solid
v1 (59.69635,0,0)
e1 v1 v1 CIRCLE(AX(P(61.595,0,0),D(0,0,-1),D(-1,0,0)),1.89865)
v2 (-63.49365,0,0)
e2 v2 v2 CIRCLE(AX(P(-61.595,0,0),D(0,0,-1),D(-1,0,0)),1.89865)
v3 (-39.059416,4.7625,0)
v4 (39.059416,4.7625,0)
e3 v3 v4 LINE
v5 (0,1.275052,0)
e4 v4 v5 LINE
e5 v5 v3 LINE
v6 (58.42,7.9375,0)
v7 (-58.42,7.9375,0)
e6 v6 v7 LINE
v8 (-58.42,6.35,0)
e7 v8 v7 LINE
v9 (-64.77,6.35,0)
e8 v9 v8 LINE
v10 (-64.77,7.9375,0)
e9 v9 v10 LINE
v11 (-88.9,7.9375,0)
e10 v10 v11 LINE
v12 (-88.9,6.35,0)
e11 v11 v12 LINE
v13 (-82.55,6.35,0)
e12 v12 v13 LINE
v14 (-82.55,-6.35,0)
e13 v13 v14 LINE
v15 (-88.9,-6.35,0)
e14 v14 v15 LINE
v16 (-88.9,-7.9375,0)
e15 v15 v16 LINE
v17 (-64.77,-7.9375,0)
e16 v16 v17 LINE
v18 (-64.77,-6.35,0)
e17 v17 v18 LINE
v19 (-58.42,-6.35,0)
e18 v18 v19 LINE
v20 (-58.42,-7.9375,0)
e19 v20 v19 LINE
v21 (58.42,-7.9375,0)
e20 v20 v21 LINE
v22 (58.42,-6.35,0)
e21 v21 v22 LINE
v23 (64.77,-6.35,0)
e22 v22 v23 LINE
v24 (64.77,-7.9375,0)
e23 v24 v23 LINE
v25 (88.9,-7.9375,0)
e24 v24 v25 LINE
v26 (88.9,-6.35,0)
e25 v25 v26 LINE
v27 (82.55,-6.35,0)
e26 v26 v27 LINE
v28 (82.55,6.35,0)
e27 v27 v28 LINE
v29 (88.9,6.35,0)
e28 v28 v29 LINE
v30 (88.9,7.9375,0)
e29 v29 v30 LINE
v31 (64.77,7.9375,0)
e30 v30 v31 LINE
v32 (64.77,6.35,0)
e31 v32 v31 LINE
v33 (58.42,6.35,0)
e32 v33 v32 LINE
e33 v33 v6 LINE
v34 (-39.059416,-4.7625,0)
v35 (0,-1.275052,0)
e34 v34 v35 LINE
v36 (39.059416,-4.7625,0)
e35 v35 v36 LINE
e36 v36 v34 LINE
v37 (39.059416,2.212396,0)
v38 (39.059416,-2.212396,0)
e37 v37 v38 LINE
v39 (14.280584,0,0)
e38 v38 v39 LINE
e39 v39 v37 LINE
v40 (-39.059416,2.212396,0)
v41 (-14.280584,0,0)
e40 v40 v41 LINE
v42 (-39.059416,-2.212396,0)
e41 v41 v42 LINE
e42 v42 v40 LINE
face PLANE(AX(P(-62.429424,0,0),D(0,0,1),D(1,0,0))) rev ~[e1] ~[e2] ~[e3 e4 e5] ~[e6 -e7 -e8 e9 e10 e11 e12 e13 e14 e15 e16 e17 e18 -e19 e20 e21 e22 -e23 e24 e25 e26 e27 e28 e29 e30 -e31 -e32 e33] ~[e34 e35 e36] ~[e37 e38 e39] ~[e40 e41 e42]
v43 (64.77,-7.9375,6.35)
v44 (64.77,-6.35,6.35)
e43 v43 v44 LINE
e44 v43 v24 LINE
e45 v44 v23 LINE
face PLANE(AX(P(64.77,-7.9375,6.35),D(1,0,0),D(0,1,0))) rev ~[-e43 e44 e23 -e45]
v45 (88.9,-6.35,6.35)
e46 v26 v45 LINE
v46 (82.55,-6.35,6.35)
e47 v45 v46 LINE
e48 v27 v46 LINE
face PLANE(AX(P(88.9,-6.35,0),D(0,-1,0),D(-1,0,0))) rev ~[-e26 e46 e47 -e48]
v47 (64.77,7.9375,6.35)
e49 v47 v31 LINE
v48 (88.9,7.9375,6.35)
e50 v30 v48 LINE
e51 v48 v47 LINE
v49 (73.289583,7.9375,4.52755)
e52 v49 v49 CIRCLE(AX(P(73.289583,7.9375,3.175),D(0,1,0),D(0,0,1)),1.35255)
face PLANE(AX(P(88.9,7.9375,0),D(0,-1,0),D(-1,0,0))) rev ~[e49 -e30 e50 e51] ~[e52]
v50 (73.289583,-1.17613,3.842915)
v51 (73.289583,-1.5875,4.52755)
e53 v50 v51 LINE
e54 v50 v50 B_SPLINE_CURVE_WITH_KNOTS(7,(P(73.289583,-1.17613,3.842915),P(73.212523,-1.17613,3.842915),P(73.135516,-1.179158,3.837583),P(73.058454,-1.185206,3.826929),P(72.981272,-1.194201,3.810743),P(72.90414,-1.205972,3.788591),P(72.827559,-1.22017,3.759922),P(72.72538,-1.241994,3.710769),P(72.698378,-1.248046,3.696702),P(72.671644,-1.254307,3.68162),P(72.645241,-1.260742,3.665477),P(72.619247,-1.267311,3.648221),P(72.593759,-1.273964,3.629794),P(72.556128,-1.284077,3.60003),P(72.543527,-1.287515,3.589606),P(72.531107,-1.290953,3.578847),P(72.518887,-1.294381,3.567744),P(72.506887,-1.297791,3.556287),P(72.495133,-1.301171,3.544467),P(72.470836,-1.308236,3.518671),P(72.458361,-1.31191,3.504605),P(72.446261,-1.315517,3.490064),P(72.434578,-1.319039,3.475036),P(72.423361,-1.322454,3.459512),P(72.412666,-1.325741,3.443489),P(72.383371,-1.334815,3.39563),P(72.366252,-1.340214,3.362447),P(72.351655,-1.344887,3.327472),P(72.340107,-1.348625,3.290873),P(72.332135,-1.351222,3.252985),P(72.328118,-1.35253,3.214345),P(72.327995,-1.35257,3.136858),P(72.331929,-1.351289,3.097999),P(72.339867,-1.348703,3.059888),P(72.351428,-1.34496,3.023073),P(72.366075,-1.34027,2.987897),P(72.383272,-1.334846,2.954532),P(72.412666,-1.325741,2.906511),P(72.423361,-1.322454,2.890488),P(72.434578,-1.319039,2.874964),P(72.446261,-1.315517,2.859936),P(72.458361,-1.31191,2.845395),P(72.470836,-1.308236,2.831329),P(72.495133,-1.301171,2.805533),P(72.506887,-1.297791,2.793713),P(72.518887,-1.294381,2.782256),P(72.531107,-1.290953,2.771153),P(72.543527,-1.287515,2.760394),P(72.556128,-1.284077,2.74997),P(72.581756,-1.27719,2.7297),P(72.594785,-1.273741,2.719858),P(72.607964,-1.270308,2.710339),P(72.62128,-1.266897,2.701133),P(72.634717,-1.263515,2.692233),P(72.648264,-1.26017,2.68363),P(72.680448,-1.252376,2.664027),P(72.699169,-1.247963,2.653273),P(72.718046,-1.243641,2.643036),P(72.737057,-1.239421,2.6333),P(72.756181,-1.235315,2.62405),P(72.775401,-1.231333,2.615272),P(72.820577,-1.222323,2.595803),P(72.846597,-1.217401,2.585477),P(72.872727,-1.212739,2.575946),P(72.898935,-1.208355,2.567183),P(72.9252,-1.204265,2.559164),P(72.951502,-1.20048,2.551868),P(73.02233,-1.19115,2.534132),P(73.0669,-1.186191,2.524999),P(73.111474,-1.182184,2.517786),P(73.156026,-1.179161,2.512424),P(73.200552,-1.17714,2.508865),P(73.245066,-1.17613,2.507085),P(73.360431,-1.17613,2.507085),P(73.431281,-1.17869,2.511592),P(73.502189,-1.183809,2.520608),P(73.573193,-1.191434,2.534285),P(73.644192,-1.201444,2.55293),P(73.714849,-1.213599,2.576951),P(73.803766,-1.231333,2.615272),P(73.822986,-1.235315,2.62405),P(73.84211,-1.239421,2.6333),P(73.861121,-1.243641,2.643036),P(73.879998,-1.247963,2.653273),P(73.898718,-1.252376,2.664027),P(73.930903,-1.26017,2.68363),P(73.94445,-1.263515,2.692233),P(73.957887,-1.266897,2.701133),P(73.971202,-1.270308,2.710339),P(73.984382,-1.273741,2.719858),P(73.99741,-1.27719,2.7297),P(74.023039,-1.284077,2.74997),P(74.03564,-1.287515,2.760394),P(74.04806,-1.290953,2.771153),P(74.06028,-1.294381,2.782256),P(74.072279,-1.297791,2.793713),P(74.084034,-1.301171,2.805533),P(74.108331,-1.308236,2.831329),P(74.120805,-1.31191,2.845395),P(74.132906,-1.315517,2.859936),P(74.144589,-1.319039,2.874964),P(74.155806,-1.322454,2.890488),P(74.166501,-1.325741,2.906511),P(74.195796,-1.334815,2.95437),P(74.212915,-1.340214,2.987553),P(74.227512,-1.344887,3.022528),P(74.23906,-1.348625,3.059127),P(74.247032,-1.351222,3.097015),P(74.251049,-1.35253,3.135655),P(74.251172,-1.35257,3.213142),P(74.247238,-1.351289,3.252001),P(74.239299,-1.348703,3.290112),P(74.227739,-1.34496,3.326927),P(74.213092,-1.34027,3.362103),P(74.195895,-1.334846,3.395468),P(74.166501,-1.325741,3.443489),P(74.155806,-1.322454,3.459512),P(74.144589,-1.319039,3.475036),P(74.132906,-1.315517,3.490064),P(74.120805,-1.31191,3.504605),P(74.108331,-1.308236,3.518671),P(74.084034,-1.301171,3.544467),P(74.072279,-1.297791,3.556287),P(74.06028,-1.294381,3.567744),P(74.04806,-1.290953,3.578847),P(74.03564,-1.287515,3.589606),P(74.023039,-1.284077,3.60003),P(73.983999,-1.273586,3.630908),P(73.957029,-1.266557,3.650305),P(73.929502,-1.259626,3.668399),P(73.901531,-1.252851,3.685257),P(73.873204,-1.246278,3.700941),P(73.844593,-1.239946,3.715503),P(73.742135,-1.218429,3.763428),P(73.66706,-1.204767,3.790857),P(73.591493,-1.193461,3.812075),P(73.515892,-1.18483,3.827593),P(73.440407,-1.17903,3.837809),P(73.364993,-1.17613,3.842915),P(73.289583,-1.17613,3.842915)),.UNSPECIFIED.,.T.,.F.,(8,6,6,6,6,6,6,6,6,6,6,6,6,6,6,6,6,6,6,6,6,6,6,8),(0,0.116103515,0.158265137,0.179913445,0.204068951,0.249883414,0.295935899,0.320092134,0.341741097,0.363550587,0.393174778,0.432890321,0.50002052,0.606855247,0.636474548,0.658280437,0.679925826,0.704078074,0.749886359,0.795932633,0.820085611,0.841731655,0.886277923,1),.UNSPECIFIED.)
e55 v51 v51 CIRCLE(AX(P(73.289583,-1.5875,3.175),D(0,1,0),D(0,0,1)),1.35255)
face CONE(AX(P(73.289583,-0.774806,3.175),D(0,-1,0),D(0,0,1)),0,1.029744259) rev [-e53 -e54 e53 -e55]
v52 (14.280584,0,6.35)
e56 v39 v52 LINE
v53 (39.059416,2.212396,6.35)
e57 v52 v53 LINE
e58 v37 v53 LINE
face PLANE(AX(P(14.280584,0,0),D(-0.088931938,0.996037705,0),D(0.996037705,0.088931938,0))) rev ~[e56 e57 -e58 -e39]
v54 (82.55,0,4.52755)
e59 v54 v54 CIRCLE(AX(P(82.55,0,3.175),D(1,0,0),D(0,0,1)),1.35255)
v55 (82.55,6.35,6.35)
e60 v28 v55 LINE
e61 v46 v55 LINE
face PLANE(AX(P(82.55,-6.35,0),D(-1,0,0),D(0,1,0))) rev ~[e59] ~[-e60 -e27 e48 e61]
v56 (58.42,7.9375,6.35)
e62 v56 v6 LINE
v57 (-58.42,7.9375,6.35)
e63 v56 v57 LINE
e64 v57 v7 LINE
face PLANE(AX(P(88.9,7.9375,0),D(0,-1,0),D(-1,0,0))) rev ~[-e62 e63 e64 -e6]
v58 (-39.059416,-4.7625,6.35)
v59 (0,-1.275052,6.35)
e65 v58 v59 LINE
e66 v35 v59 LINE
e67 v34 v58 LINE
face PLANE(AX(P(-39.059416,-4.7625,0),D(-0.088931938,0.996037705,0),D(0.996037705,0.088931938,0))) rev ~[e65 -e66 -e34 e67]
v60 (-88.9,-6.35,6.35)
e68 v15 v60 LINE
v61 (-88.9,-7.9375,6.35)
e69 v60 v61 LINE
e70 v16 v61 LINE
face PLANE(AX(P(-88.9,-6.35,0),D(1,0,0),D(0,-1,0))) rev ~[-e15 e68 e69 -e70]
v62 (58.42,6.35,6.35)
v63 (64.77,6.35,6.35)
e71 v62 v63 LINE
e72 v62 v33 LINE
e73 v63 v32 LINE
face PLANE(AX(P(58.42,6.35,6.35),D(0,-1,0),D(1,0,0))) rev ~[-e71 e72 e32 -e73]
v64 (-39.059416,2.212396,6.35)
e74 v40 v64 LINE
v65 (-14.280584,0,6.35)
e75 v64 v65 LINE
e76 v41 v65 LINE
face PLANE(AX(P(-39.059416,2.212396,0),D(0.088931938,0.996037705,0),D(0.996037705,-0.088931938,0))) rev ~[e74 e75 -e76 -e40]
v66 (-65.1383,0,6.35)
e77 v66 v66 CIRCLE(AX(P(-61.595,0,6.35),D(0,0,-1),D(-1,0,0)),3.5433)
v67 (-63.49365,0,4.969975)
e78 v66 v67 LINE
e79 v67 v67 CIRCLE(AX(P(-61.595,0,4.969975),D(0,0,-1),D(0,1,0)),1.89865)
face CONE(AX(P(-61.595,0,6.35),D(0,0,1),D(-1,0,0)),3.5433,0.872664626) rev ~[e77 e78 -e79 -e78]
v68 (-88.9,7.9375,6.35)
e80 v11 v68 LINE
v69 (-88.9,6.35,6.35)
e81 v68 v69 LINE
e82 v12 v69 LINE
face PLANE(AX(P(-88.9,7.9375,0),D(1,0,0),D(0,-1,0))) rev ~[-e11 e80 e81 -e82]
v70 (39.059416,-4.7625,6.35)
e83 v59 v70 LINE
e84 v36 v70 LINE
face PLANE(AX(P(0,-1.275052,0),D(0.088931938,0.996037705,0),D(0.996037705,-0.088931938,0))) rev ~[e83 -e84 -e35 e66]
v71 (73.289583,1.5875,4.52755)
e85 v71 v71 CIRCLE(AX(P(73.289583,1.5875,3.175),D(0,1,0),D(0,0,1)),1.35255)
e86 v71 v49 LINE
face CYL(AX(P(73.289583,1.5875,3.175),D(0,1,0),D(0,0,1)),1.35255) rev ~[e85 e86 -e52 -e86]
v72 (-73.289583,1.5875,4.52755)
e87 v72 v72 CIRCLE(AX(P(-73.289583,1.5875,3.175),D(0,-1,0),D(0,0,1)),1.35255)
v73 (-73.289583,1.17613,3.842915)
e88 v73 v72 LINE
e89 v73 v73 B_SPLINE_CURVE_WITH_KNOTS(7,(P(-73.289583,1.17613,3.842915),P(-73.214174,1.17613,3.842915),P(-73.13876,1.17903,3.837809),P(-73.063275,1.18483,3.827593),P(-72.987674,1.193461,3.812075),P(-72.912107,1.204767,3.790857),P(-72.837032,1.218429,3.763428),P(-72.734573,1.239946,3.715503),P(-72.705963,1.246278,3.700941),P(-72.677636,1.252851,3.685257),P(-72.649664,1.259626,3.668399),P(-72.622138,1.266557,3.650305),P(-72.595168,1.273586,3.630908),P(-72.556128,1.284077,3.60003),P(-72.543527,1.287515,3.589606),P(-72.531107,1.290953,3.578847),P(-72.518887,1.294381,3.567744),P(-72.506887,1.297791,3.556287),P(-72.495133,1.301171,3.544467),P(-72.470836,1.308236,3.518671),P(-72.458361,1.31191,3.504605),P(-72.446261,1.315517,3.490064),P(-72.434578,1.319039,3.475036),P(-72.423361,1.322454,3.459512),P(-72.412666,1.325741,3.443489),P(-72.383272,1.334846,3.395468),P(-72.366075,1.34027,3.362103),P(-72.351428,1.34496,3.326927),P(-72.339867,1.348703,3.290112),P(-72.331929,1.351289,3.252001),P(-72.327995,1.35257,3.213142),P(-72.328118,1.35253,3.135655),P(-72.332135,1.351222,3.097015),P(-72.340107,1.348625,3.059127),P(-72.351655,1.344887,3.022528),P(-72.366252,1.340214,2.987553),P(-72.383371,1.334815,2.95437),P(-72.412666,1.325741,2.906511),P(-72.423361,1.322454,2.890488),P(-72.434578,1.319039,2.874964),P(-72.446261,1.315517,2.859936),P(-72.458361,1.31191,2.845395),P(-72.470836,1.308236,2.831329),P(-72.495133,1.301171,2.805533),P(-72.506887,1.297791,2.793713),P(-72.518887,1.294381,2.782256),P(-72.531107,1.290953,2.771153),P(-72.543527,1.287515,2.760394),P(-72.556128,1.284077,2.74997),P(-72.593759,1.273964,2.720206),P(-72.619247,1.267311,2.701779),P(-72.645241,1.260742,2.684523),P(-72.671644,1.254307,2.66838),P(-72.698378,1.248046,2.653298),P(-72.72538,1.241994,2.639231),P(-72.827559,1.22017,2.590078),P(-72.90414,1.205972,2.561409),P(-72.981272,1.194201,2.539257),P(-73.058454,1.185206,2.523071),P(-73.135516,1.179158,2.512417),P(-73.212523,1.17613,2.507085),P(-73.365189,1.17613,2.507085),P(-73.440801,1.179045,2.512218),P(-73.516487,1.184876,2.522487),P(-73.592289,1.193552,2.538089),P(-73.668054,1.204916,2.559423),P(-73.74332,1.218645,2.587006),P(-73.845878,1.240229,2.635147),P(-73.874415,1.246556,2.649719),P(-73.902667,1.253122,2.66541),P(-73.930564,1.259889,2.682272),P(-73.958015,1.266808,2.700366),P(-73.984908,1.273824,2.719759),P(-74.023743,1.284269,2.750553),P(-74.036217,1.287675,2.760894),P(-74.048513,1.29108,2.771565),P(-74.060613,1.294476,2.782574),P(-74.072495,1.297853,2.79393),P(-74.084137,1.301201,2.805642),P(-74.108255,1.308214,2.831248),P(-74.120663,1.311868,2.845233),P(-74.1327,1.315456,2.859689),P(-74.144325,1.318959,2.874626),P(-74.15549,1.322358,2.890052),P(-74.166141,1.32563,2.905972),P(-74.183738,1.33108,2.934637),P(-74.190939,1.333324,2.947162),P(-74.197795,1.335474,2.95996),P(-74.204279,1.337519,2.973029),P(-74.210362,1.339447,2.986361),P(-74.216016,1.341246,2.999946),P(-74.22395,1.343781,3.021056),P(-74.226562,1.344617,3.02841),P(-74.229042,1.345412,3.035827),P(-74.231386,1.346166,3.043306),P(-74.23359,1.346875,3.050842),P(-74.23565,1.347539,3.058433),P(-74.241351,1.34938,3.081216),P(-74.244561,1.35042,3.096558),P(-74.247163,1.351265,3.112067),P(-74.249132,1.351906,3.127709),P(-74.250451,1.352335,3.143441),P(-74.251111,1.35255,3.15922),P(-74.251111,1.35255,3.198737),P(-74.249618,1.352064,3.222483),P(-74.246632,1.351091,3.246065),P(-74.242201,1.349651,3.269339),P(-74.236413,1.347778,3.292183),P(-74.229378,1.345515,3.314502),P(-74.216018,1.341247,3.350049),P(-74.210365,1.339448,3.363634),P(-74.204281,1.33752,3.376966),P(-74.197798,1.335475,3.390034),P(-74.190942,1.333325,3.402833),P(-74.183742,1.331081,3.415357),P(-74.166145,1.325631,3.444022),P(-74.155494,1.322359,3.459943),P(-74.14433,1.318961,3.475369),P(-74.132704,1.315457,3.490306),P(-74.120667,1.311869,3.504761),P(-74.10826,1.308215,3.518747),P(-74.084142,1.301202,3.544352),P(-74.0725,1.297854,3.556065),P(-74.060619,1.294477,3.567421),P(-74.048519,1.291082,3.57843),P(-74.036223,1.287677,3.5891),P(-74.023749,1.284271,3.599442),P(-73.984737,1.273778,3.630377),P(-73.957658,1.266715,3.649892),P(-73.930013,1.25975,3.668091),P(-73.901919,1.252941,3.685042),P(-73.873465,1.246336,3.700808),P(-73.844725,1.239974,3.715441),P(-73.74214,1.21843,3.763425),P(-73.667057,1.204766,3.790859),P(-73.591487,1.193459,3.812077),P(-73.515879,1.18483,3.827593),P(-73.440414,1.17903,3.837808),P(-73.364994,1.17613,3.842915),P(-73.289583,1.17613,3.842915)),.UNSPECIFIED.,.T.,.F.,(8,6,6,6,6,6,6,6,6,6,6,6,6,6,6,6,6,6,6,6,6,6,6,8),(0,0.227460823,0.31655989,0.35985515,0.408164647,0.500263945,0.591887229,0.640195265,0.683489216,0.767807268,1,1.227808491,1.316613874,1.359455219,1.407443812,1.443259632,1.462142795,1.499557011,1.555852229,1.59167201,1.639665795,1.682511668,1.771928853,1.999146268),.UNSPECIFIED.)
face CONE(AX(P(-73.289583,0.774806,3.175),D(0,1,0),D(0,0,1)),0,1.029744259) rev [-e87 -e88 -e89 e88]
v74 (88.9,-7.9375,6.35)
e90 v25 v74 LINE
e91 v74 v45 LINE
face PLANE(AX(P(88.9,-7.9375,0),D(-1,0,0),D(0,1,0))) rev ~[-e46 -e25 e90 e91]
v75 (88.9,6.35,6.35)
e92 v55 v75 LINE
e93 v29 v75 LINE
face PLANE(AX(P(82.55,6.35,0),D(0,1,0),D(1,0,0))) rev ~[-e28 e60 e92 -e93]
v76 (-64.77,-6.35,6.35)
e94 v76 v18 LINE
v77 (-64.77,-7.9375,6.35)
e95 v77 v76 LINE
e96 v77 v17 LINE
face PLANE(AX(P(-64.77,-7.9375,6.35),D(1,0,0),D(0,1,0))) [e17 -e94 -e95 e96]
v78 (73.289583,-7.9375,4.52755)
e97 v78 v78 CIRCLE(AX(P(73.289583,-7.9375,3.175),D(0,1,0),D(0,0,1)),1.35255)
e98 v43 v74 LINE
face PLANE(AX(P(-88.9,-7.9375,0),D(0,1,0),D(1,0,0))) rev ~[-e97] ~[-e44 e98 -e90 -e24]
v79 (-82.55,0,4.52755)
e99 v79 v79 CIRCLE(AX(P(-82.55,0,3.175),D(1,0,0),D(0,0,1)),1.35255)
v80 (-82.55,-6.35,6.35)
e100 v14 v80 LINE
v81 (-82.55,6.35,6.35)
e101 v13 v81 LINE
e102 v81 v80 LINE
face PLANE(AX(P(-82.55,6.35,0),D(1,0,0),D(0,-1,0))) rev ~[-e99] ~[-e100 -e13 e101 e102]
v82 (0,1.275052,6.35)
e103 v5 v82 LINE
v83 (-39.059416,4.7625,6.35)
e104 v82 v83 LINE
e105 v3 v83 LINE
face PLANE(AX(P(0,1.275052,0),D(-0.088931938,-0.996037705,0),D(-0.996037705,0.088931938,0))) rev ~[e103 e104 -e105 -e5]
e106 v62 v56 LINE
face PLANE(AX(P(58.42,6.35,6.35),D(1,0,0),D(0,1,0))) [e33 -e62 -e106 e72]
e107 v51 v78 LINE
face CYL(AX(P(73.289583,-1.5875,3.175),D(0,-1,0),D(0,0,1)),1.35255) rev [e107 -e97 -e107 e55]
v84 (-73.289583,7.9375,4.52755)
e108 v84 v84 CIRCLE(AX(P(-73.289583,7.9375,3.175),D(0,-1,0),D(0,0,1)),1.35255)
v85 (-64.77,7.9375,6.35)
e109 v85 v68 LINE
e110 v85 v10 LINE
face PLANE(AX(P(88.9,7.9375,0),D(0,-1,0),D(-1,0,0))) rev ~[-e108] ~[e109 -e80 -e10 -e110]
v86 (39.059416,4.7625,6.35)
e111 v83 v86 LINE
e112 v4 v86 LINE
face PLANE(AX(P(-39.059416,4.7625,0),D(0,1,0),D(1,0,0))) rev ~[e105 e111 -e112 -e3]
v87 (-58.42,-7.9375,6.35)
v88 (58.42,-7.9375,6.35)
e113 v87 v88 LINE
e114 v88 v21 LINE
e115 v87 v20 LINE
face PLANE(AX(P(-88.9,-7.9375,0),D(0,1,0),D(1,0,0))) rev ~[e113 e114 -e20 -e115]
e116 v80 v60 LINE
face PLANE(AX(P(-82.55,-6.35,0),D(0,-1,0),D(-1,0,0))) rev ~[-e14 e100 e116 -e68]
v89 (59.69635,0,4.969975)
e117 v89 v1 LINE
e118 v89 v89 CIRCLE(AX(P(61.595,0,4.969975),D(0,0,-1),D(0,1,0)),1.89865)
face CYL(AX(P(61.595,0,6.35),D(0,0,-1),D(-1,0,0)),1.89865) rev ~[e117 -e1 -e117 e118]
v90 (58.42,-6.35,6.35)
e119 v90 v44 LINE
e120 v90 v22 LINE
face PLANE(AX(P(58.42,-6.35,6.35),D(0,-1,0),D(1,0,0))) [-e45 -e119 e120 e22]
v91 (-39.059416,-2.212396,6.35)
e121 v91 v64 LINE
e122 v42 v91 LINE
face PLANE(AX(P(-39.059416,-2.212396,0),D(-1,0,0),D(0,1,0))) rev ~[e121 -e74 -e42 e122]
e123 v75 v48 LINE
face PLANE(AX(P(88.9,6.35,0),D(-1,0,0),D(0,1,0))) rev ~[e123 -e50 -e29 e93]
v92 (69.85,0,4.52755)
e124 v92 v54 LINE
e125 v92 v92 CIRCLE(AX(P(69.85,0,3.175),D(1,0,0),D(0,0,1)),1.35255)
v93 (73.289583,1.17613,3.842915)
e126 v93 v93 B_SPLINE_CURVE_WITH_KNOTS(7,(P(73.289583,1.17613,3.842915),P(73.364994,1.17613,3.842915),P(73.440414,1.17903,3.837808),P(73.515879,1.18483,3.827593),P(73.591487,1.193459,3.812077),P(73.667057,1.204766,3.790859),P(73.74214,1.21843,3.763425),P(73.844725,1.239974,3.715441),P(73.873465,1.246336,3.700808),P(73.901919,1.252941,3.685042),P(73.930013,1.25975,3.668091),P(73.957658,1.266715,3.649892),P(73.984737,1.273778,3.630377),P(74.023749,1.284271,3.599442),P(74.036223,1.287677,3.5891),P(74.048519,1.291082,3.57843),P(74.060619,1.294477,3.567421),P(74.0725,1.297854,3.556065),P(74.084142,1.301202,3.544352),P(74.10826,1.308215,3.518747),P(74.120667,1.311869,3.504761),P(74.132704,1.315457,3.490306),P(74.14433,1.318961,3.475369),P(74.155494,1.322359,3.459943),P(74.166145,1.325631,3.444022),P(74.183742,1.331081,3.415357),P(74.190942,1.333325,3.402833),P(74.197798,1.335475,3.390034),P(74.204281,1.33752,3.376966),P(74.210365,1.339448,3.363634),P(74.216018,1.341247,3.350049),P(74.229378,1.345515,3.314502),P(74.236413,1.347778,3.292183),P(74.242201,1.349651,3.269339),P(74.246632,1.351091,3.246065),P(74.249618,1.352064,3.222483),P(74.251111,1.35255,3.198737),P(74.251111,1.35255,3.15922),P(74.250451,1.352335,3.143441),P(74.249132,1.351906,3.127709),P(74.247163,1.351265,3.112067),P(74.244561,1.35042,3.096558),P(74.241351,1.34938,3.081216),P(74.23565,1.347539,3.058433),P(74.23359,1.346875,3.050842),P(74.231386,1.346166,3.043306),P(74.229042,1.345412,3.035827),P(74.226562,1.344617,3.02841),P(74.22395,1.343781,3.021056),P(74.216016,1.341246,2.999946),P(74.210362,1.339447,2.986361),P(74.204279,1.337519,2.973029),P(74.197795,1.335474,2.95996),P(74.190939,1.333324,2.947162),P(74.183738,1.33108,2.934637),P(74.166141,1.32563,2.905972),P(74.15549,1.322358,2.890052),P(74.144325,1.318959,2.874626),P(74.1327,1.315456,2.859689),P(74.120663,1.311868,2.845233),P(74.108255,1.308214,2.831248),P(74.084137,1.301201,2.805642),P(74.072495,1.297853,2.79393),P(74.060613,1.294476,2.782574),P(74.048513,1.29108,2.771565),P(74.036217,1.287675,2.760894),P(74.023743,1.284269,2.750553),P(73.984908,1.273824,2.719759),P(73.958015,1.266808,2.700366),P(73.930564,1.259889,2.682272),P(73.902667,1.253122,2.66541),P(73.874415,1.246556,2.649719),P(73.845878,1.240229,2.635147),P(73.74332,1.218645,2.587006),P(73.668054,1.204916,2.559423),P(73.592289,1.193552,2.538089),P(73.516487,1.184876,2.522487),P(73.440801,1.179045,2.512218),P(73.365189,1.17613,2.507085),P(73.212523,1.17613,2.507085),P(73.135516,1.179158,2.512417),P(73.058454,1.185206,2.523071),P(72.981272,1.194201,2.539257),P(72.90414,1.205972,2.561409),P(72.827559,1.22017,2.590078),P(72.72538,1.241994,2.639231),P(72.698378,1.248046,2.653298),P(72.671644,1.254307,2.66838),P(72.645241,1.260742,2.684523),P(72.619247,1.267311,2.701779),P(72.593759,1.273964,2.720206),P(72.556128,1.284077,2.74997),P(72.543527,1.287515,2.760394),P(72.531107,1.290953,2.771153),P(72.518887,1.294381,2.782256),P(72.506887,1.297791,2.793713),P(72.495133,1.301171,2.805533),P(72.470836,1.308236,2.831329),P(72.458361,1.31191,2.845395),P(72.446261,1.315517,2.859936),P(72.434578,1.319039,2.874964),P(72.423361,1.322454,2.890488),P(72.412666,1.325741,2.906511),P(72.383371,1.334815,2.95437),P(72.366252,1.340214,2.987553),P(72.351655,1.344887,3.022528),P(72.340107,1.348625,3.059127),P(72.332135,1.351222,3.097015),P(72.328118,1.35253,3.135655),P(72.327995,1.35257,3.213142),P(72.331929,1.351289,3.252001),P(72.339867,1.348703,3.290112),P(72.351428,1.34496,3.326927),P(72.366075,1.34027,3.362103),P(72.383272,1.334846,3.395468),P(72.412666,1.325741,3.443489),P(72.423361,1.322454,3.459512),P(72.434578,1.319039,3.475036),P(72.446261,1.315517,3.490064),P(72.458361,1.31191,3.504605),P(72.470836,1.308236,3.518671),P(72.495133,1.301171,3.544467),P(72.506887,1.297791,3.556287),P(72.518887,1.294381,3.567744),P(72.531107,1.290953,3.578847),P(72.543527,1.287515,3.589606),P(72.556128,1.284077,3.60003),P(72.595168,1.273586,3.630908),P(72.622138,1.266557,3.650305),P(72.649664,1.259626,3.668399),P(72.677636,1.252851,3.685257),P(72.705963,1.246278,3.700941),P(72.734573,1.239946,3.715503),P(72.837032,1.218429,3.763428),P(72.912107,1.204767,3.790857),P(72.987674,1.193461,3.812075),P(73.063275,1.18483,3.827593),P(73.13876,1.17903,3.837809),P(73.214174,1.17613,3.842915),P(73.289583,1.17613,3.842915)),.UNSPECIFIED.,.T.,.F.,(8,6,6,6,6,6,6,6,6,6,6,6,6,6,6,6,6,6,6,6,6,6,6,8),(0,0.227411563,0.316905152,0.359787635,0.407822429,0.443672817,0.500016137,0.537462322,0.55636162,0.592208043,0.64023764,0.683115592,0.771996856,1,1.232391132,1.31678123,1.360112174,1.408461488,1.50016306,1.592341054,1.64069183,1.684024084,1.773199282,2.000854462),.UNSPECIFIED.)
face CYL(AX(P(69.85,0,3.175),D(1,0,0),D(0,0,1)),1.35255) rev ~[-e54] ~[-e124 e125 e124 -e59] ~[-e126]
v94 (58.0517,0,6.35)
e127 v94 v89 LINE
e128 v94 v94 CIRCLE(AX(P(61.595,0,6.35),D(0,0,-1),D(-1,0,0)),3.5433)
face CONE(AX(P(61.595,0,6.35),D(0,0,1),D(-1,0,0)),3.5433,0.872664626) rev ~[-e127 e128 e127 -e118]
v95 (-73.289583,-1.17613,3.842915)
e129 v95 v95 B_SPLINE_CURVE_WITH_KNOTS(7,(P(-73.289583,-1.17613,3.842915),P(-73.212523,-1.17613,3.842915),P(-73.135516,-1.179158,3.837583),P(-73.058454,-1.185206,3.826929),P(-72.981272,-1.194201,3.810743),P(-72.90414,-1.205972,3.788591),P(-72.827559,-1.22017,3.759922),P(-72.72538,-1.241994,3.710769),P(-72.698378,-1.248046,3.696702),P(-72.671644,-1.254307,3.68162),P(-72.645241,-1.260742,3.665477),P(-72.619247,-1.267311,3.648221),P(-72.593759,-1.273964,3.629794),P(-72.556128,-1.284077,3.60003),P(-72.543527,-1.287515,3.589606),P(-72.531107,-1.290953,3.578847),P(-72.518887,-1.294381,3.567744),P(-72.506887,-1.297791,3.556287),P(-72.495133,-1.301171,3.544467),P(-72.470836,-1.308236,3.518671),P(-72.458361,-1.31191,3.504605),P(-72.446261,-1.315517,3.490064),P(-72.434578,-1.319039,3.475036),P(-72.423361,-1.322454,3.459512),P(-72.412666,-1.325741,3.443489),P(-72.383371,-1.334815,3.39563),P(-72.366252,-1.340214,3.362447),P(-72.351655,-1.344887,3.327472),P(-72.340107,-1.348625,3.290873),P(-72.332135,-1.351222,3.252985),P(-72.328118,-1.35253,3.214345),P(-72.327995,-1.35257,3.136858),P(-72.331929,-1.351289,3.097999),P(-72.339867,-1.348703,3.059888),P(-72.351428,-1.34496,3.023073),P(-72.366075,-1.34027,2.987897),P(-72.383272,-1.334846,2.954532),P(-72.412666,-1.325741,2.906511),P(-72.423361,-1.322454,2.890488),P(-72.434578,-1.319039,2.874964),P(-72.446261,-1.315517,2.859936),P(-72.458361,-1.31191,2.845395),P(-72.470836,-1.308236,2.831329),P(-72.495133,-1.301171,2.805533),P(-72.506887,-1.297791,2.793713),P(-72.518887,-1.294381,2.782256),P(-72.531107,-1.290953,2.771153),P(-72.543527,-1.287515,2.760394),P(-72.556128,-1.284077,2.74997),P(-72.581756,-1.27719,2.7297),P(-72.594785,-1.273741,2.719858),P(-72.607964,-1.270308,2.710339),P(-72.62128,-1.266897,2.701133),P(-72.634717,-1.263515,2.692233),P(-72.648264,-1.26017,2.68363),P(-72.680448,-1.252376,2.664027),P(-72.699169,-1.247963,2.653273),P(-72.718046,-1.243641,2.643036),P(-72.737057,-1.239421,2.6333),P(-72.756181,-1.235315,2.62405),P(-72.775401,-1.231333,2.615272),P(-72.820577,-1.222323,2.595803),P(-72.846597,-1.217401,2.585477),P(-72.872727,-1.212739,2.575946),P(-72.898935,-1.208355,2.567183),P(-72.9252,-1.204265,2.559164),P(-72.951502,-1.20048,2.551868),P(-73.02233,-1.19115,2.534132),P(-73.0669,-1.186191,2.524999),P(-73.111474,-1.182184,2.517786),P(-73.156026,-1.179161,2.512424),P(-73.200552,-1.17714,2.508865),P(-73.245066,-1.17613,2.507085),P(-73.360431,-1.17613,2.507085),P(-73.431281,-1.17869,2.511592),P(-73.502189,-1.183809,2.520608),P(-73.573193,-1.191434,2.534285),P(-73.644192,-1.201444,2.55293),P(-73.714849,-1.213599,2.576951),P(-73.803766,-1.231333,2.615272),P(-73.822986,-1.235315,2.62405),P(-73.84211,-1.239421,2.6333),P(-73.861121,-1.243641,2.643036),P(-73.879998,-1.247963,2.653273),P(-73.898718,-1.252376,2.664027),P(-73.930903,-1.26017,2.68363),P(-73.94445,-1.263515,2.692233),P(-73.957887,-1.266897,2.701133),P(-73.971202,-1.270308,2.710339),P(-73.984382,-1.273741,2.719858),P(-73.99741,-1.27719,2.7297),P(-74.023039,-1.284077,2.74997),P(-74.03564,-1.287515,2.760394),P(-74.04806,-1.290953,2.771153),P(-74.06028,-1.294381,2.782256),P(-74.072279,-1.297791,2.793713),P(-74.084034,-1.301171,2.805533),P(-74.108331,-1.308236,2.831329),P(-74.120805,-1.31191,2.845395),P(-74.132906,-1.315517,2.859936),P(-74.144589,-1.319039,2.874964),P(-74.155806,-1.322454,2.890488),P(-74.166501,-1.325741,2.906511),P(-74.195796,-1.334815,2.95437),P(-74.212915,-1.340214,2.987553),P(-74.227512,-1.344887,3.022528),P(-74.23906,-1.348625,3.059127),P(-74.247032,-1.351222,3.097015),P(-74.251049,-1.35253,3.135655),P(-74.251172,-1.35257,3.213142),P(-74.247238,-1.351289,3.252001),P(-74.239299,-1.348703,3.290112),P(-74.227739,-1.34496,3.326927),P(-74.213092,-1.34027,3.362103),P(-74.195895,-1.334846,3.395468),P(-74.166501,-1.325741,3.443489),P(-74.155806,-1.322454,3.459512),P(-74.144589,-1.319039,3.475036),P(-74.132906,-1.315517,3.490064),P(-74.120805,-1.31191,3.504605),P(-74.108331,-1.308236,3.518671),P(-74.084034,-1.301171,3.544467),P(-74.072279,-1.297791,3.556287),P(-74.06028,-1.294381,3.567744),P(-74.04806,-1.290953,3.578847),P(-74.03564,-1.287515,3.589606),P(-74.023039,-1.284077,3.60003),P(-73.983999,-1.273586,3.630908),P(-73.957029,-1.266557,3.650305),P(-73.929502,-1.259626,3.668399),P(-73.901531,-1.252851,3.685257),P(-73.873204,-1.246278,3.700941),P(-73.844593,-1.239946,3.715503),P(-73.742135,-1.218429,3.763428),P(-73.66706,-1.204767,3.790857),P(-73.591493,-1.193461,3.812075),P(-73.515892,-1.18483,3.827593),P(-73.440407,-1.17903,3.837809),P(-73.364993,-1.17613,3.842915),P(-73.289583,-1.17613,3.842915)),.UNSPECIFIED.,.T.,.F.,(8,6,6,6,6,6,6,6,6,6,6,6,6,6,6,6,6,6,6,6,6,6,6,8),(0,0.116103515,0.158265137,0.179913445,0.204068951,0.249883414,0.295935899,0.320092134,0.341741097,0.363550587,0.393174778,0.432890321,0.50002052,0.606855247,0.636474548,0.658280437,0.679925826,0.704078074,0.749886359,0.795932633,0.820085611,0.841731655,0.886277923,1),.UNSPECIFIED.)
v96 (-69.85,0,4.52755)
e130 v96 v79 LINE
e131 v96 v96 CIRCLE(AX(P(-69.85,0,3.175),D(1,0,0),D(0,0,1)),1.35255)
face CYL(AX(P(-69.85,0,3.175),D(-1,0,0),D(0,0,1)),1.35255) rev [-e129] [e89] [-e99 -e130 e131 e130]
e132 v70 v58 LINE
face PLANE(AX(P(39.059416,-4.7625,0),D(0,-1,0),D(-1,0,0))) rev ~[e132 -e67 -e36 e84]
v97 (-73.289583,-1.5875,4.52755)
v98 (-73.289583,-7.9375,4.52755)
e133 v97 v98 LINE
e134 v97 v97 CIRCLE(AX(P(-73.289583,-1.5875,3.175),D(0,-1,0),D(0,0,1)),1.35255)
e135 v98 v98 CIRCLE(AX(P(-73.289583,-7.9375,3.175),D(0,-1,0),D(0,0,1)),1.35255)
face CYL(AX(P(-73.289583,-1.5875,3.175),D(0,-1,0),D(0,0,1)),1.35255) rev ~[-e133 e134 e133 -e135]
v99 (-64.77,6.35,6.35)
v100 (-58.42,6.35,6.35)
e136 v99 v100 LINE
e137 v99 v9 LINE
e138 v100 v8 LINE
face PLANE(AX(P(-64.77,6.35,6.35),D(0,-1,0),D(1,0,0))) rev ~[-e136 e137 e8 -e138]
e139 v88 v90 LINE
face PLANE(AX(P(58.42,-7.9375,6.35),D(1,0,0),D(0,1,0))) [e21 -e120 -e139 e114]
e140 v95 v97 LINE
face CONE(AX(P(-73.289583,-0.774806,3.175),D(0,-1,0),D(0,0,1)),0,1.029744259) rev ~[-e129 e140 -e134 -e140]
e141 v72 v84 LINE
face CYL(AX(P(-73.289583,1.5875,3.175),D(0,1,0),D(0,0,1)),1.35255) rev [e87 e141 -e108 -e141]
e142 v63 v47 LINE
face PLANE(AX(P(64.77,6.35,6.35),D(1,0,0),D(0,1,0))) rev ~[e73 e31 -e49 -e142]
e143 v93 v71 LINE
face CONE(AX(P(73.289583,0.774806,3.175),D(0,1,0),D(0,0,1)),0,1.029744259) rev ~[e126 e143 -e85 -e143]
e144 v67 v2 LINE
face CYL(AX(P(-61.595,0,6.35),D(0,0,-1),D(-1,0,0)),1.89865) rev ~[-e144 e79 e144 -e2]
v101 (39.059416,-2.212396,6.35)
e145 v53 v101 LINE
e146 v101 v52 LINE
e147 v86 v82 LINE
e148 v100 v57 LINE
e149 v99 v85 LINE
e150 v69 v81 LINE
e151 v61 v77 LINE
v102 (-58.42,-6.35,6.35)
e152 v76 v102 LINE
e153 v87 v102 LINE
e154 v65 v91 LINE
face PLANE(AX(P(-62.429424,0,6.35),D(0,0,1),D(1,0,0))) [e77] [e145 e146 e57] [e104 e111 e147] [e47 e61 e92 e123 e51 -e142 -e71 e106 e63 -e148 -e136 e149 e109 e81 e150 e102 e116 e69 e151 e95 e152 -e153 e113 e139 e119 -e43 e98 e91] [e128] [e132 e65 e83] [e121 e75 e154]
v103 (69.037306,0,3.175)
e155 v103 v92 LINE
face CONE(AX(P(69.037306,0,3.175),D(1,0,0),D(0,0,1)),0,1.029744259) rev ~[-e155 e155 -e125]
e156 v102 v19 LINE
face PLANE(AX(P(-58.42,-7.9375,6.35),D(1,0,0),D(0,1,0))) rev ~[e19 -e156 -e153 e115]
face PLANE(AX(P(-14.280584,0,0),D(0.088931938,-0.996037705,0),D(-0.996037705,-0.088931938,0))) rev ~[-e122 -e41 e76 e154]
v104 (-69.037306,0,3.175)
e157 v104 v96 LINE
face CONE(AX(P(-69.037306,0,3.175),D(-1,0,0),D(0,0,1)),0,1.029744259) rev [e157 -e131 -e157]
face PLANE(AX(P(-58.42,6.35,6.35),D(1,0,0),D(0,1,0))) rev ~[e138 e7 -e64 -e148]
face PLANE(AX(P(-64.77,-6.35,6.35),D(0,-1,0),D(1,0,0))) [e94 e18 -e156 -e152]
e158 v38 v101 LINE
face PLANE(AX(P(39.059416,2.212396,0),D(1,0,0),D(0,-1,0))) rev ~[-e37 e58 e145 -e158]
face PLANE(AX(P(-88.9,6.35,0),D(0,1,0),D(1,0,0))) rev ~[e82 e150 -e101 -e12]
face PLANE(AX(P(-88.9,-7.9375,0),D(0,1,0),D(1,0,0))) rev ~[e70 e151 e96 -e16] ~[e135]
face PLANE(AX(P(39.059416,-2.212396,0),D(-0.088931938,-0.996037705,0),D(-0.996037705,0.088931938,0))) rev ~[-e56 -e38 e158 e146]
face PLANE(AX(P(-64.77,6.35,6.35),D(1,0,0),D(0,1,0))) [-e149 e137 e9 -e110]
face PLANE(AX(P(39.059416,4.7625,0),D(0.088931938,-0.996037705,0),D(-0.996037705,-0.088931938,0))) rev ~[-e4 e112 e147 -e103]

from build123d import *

# Parameters (mm, degrees)
BOSS_EXTRUDE1_DEPTH                               = 6.35
SKETCH7_W                                         = 6.35
SKETCH7_H                                         = 1.5875
CUT_EXTRUDE1_DEPTH                                = 90.479251261
CSK_FOR_6_FLAT_HEAD_MACHINE_SCREW_100_D           = 3.7973
CSK_FOR_6_FLAT_HEAD_MACHINE_SCREW_100_CSINK_D     = 7.0866
CSK_FOR_6_FLAT_HEAD_MACHINE_SCREW_100_CSINK_ANGLE = 100


with BuildPart() as part:
    # Sketch1 → Boss-Extrude1 (new body)
    with BuildSketch(Plane.XY):
        Polygon((-39.059416118, -2.212395735), (-39.059416118, 2.212395735), (-82.55, 6.095483582), (-82.55, -6.095483582), align=None)
        Polygon((39.059416118, -4.7625), (-39.059416118, -4.7625), (-74.619416118, -7.9375), (74.619416118, -7.9375), align=None)
        Polygon((-39.059416118, -4.7625), (-39.059416118, -2.212395735), (-82.55, -6.095483582), (-82.55, -6.35), (-85.400583882, -6.35), (-88.9, -6.662447868), (-88.9, -7.9375), (-74.619416118, -7.9375), align=None)
        Polygon((0, -1.275052132), (-14.280583882, 0), (-39.059416118, -2.212395735), (-39.059416118, -4.7625), align=None)
        Polygon((0, 1.275052132), (-39.059416118, 4.7625), (-39.059416118, 2.212395735), (-14.280583882, 0), align=None)
        Polygon((74.619416118, 7.9375), (-74.619416118, 7.9375), (-39.059416118, 4.7625), (39.059416118, 4.7625), align=None)
        Polygon((-74.619416118, 7.9375), (-88.9, 7.9375), (-88.9, 6.662447868), (-85.400583882, 6.35), (-82.55, 6.35), (-82.55, 6.095483582), (-39.059416118, 2.212395735), (-39.059416118, 4.7625), align=None)
        Polygon((39.059416118, -2.212395735), (14.280583882, 0), (0, -1.275052132), (39.059416118, -4.7625), align=None)
        Polygon((39.059416118, 2.212395735), (39.059416118, 4.7625), (0, 1.275052132), (14.280583882, 0), align=None)
        Polygon((14.280583882, 0), (0, 1.275052132), (-14.280583882, 0), (0, -1.275052132), align=None)
        Polygon((82.55, -6.095483582), (39.059416118, -2.212395735), (39.059416118, -4.7625), (74.619416118, -7.9375), (88.9, -7.9375), (88.9, -6.662447868), (85.400583882, -6.35), (82.55, -6.35), align=None)
        Polygon((88.9, 7.9375), (74.619416118, 7.9375), (39.059416118, 4.7625), (39.059416118, 2.212395735), (82.55, 6.095483582), (82.55, 6.35), (85.400583882, 6.35), (88.9, 6.662447868), align=None)
        Polygon((88.9, 6.35), (88.9, 6.662447868), (85.400583882, 6.35), align=None)
        Polygon((88.9, -6.35), (85.400583882, -6.35), (88.9, -6.662447868), align=None)
        Polygon((82.55, 6.095483582), (39.059416118, 2.212395735), (39.059416118, -2.212395735), (82.55, -6.095483582), align=None)
        Polygon((-88.9, -6.662447868), (-85.400583882, -6.35), (-88.9, -6.35), align=None)
        Polygon((-85.400583882, 6.35), (-88.9, 6.662447868), (-88.9, 6.35), align=None)
    extrude(amount=BOSS_EXTRUDE1_DEPTH)

    # Sketch4 → Tap Drill for #6-32 Tap1 (revolve, cut)
    with BuildSketch(Plane(origin=(-82.55, 0, 3.175), x_dir=(0, 0, 1), z_dir=(0, 1, 0))):
        Polygon((0, 0), (0, 13.51269403), (1.35255, 12.7), (1.35255, 0), align=None)
    tap_drill_for_6_32_tap1 = revolve(axis=Axis((-88.9, 0, 3.175), (1, 0, 0)), mode=Mode.SUBTRACT)

    # Mirror1: Tap Drill for #6-32 Tap1 across plane
    add(tap_drill_for_6_32_tap1.mirror(Plane(origin=(0, 0, 0), x_dir=(0, 0, 1), z_dir=(1, 0, 0))), mode=Mode.SUBTRACT)

    # Sketch5 → Tap Drill for #6-32 Tap2 (revolve, cut)
    with BuildSketch(Plane(origin=(-73.289583418, 7.9375, 3.175), x_dir=(0, 0, 1), z_dir=(1, 0, 0))):
        Polygon((0, 0), (0, 7.16269403), (1.35255, 6.35), (1.35255, 0), align=None)
    tap_drill_for_6_32_tap2 = revolve(axis=Axis((-73.289583418, 14.2875, 3.175), (0, -1, 0)), mode=Mode.SUBTRACT)

    # Mirror2: Tap Drill for #6-32 Tap2 across plane
    add(tap_drill_for_6_32_tap2.mirror(Plane(origin=(0, 0, 0), x_dir=(0, 0, 1), z_dir=(1, 0, 0))), mode=Mode.SUBTRACT)

    # Mirror3: Tap Drill for #6-32 Tap2 across plane
    add(tap_drill_for_6_32_tap2.mirror(Plane(origin=(0, 0, 0), x_dir=(0, 0, 1), z_dir=(0, -1, 0))), mode=Mode.SUBTRACT)

    # Mirror3 copy 1 sketch → Mirror3 copy 1 (revolve, cut)
    with BuildSketch(Plane(origin=(73.289583418, -7.9375, 3.175), x_dir=(0, 0, 1), z_dir=(-1, 0, 0))):
        Polygon((0, 0), (0, 7.16269403), (1.35255, 6.35), (1.35255, 0), align=None)
    revolve(axis=Axis((73.289583418, -14.2875, 3.175), (0, 1, 0)), mode=Mode.SUBTRACT)

    # Sketch7 → Cut-Extrude1 (cut, through all)
    with BuildSketch(Plane.XY.offset(6.35)):
        with Locations((-61.595, 7.14375)):
            Rectangle(SKETCH7_W, SKETCH7_H)
        with Locations((-61.595, -7.14375)):
            Rectangle(SKETCH7_W, SKETCH7_H)
        with Locations((61.595, -7.14375)):
            Rectangle(SKETCH7_W, SKETCH7_H)
        with Locations((61.595, 7.14375)):
            Rectangle(SKETCH7_W, SKETCH7_H)
    extrude(amount=-CUT_EXTRUDE1_DEPTH, mode=Mode.SUBTRACT)

    # CSK for #6 Flat Head Machine Screw (100)1 (through all)
    with Locations(Plane.XY.offset(6.35)):
        with Locations((-61.595, 0), (61.595, 0)):
            CounterSinkHole(CSK_FOR_6_FLAT_HEAD_MACHINE_SCREW_100_D / 2, CSK_FOR_6_FLAT_HEAD_MACHINE_SCREW_100_CSINK_D / 2, counter_sink_angle=CSK_FOR_6_FLAT_HEAD_MACHINE_SCREW_100_CSINK_ANGLE)


solid = part.part
